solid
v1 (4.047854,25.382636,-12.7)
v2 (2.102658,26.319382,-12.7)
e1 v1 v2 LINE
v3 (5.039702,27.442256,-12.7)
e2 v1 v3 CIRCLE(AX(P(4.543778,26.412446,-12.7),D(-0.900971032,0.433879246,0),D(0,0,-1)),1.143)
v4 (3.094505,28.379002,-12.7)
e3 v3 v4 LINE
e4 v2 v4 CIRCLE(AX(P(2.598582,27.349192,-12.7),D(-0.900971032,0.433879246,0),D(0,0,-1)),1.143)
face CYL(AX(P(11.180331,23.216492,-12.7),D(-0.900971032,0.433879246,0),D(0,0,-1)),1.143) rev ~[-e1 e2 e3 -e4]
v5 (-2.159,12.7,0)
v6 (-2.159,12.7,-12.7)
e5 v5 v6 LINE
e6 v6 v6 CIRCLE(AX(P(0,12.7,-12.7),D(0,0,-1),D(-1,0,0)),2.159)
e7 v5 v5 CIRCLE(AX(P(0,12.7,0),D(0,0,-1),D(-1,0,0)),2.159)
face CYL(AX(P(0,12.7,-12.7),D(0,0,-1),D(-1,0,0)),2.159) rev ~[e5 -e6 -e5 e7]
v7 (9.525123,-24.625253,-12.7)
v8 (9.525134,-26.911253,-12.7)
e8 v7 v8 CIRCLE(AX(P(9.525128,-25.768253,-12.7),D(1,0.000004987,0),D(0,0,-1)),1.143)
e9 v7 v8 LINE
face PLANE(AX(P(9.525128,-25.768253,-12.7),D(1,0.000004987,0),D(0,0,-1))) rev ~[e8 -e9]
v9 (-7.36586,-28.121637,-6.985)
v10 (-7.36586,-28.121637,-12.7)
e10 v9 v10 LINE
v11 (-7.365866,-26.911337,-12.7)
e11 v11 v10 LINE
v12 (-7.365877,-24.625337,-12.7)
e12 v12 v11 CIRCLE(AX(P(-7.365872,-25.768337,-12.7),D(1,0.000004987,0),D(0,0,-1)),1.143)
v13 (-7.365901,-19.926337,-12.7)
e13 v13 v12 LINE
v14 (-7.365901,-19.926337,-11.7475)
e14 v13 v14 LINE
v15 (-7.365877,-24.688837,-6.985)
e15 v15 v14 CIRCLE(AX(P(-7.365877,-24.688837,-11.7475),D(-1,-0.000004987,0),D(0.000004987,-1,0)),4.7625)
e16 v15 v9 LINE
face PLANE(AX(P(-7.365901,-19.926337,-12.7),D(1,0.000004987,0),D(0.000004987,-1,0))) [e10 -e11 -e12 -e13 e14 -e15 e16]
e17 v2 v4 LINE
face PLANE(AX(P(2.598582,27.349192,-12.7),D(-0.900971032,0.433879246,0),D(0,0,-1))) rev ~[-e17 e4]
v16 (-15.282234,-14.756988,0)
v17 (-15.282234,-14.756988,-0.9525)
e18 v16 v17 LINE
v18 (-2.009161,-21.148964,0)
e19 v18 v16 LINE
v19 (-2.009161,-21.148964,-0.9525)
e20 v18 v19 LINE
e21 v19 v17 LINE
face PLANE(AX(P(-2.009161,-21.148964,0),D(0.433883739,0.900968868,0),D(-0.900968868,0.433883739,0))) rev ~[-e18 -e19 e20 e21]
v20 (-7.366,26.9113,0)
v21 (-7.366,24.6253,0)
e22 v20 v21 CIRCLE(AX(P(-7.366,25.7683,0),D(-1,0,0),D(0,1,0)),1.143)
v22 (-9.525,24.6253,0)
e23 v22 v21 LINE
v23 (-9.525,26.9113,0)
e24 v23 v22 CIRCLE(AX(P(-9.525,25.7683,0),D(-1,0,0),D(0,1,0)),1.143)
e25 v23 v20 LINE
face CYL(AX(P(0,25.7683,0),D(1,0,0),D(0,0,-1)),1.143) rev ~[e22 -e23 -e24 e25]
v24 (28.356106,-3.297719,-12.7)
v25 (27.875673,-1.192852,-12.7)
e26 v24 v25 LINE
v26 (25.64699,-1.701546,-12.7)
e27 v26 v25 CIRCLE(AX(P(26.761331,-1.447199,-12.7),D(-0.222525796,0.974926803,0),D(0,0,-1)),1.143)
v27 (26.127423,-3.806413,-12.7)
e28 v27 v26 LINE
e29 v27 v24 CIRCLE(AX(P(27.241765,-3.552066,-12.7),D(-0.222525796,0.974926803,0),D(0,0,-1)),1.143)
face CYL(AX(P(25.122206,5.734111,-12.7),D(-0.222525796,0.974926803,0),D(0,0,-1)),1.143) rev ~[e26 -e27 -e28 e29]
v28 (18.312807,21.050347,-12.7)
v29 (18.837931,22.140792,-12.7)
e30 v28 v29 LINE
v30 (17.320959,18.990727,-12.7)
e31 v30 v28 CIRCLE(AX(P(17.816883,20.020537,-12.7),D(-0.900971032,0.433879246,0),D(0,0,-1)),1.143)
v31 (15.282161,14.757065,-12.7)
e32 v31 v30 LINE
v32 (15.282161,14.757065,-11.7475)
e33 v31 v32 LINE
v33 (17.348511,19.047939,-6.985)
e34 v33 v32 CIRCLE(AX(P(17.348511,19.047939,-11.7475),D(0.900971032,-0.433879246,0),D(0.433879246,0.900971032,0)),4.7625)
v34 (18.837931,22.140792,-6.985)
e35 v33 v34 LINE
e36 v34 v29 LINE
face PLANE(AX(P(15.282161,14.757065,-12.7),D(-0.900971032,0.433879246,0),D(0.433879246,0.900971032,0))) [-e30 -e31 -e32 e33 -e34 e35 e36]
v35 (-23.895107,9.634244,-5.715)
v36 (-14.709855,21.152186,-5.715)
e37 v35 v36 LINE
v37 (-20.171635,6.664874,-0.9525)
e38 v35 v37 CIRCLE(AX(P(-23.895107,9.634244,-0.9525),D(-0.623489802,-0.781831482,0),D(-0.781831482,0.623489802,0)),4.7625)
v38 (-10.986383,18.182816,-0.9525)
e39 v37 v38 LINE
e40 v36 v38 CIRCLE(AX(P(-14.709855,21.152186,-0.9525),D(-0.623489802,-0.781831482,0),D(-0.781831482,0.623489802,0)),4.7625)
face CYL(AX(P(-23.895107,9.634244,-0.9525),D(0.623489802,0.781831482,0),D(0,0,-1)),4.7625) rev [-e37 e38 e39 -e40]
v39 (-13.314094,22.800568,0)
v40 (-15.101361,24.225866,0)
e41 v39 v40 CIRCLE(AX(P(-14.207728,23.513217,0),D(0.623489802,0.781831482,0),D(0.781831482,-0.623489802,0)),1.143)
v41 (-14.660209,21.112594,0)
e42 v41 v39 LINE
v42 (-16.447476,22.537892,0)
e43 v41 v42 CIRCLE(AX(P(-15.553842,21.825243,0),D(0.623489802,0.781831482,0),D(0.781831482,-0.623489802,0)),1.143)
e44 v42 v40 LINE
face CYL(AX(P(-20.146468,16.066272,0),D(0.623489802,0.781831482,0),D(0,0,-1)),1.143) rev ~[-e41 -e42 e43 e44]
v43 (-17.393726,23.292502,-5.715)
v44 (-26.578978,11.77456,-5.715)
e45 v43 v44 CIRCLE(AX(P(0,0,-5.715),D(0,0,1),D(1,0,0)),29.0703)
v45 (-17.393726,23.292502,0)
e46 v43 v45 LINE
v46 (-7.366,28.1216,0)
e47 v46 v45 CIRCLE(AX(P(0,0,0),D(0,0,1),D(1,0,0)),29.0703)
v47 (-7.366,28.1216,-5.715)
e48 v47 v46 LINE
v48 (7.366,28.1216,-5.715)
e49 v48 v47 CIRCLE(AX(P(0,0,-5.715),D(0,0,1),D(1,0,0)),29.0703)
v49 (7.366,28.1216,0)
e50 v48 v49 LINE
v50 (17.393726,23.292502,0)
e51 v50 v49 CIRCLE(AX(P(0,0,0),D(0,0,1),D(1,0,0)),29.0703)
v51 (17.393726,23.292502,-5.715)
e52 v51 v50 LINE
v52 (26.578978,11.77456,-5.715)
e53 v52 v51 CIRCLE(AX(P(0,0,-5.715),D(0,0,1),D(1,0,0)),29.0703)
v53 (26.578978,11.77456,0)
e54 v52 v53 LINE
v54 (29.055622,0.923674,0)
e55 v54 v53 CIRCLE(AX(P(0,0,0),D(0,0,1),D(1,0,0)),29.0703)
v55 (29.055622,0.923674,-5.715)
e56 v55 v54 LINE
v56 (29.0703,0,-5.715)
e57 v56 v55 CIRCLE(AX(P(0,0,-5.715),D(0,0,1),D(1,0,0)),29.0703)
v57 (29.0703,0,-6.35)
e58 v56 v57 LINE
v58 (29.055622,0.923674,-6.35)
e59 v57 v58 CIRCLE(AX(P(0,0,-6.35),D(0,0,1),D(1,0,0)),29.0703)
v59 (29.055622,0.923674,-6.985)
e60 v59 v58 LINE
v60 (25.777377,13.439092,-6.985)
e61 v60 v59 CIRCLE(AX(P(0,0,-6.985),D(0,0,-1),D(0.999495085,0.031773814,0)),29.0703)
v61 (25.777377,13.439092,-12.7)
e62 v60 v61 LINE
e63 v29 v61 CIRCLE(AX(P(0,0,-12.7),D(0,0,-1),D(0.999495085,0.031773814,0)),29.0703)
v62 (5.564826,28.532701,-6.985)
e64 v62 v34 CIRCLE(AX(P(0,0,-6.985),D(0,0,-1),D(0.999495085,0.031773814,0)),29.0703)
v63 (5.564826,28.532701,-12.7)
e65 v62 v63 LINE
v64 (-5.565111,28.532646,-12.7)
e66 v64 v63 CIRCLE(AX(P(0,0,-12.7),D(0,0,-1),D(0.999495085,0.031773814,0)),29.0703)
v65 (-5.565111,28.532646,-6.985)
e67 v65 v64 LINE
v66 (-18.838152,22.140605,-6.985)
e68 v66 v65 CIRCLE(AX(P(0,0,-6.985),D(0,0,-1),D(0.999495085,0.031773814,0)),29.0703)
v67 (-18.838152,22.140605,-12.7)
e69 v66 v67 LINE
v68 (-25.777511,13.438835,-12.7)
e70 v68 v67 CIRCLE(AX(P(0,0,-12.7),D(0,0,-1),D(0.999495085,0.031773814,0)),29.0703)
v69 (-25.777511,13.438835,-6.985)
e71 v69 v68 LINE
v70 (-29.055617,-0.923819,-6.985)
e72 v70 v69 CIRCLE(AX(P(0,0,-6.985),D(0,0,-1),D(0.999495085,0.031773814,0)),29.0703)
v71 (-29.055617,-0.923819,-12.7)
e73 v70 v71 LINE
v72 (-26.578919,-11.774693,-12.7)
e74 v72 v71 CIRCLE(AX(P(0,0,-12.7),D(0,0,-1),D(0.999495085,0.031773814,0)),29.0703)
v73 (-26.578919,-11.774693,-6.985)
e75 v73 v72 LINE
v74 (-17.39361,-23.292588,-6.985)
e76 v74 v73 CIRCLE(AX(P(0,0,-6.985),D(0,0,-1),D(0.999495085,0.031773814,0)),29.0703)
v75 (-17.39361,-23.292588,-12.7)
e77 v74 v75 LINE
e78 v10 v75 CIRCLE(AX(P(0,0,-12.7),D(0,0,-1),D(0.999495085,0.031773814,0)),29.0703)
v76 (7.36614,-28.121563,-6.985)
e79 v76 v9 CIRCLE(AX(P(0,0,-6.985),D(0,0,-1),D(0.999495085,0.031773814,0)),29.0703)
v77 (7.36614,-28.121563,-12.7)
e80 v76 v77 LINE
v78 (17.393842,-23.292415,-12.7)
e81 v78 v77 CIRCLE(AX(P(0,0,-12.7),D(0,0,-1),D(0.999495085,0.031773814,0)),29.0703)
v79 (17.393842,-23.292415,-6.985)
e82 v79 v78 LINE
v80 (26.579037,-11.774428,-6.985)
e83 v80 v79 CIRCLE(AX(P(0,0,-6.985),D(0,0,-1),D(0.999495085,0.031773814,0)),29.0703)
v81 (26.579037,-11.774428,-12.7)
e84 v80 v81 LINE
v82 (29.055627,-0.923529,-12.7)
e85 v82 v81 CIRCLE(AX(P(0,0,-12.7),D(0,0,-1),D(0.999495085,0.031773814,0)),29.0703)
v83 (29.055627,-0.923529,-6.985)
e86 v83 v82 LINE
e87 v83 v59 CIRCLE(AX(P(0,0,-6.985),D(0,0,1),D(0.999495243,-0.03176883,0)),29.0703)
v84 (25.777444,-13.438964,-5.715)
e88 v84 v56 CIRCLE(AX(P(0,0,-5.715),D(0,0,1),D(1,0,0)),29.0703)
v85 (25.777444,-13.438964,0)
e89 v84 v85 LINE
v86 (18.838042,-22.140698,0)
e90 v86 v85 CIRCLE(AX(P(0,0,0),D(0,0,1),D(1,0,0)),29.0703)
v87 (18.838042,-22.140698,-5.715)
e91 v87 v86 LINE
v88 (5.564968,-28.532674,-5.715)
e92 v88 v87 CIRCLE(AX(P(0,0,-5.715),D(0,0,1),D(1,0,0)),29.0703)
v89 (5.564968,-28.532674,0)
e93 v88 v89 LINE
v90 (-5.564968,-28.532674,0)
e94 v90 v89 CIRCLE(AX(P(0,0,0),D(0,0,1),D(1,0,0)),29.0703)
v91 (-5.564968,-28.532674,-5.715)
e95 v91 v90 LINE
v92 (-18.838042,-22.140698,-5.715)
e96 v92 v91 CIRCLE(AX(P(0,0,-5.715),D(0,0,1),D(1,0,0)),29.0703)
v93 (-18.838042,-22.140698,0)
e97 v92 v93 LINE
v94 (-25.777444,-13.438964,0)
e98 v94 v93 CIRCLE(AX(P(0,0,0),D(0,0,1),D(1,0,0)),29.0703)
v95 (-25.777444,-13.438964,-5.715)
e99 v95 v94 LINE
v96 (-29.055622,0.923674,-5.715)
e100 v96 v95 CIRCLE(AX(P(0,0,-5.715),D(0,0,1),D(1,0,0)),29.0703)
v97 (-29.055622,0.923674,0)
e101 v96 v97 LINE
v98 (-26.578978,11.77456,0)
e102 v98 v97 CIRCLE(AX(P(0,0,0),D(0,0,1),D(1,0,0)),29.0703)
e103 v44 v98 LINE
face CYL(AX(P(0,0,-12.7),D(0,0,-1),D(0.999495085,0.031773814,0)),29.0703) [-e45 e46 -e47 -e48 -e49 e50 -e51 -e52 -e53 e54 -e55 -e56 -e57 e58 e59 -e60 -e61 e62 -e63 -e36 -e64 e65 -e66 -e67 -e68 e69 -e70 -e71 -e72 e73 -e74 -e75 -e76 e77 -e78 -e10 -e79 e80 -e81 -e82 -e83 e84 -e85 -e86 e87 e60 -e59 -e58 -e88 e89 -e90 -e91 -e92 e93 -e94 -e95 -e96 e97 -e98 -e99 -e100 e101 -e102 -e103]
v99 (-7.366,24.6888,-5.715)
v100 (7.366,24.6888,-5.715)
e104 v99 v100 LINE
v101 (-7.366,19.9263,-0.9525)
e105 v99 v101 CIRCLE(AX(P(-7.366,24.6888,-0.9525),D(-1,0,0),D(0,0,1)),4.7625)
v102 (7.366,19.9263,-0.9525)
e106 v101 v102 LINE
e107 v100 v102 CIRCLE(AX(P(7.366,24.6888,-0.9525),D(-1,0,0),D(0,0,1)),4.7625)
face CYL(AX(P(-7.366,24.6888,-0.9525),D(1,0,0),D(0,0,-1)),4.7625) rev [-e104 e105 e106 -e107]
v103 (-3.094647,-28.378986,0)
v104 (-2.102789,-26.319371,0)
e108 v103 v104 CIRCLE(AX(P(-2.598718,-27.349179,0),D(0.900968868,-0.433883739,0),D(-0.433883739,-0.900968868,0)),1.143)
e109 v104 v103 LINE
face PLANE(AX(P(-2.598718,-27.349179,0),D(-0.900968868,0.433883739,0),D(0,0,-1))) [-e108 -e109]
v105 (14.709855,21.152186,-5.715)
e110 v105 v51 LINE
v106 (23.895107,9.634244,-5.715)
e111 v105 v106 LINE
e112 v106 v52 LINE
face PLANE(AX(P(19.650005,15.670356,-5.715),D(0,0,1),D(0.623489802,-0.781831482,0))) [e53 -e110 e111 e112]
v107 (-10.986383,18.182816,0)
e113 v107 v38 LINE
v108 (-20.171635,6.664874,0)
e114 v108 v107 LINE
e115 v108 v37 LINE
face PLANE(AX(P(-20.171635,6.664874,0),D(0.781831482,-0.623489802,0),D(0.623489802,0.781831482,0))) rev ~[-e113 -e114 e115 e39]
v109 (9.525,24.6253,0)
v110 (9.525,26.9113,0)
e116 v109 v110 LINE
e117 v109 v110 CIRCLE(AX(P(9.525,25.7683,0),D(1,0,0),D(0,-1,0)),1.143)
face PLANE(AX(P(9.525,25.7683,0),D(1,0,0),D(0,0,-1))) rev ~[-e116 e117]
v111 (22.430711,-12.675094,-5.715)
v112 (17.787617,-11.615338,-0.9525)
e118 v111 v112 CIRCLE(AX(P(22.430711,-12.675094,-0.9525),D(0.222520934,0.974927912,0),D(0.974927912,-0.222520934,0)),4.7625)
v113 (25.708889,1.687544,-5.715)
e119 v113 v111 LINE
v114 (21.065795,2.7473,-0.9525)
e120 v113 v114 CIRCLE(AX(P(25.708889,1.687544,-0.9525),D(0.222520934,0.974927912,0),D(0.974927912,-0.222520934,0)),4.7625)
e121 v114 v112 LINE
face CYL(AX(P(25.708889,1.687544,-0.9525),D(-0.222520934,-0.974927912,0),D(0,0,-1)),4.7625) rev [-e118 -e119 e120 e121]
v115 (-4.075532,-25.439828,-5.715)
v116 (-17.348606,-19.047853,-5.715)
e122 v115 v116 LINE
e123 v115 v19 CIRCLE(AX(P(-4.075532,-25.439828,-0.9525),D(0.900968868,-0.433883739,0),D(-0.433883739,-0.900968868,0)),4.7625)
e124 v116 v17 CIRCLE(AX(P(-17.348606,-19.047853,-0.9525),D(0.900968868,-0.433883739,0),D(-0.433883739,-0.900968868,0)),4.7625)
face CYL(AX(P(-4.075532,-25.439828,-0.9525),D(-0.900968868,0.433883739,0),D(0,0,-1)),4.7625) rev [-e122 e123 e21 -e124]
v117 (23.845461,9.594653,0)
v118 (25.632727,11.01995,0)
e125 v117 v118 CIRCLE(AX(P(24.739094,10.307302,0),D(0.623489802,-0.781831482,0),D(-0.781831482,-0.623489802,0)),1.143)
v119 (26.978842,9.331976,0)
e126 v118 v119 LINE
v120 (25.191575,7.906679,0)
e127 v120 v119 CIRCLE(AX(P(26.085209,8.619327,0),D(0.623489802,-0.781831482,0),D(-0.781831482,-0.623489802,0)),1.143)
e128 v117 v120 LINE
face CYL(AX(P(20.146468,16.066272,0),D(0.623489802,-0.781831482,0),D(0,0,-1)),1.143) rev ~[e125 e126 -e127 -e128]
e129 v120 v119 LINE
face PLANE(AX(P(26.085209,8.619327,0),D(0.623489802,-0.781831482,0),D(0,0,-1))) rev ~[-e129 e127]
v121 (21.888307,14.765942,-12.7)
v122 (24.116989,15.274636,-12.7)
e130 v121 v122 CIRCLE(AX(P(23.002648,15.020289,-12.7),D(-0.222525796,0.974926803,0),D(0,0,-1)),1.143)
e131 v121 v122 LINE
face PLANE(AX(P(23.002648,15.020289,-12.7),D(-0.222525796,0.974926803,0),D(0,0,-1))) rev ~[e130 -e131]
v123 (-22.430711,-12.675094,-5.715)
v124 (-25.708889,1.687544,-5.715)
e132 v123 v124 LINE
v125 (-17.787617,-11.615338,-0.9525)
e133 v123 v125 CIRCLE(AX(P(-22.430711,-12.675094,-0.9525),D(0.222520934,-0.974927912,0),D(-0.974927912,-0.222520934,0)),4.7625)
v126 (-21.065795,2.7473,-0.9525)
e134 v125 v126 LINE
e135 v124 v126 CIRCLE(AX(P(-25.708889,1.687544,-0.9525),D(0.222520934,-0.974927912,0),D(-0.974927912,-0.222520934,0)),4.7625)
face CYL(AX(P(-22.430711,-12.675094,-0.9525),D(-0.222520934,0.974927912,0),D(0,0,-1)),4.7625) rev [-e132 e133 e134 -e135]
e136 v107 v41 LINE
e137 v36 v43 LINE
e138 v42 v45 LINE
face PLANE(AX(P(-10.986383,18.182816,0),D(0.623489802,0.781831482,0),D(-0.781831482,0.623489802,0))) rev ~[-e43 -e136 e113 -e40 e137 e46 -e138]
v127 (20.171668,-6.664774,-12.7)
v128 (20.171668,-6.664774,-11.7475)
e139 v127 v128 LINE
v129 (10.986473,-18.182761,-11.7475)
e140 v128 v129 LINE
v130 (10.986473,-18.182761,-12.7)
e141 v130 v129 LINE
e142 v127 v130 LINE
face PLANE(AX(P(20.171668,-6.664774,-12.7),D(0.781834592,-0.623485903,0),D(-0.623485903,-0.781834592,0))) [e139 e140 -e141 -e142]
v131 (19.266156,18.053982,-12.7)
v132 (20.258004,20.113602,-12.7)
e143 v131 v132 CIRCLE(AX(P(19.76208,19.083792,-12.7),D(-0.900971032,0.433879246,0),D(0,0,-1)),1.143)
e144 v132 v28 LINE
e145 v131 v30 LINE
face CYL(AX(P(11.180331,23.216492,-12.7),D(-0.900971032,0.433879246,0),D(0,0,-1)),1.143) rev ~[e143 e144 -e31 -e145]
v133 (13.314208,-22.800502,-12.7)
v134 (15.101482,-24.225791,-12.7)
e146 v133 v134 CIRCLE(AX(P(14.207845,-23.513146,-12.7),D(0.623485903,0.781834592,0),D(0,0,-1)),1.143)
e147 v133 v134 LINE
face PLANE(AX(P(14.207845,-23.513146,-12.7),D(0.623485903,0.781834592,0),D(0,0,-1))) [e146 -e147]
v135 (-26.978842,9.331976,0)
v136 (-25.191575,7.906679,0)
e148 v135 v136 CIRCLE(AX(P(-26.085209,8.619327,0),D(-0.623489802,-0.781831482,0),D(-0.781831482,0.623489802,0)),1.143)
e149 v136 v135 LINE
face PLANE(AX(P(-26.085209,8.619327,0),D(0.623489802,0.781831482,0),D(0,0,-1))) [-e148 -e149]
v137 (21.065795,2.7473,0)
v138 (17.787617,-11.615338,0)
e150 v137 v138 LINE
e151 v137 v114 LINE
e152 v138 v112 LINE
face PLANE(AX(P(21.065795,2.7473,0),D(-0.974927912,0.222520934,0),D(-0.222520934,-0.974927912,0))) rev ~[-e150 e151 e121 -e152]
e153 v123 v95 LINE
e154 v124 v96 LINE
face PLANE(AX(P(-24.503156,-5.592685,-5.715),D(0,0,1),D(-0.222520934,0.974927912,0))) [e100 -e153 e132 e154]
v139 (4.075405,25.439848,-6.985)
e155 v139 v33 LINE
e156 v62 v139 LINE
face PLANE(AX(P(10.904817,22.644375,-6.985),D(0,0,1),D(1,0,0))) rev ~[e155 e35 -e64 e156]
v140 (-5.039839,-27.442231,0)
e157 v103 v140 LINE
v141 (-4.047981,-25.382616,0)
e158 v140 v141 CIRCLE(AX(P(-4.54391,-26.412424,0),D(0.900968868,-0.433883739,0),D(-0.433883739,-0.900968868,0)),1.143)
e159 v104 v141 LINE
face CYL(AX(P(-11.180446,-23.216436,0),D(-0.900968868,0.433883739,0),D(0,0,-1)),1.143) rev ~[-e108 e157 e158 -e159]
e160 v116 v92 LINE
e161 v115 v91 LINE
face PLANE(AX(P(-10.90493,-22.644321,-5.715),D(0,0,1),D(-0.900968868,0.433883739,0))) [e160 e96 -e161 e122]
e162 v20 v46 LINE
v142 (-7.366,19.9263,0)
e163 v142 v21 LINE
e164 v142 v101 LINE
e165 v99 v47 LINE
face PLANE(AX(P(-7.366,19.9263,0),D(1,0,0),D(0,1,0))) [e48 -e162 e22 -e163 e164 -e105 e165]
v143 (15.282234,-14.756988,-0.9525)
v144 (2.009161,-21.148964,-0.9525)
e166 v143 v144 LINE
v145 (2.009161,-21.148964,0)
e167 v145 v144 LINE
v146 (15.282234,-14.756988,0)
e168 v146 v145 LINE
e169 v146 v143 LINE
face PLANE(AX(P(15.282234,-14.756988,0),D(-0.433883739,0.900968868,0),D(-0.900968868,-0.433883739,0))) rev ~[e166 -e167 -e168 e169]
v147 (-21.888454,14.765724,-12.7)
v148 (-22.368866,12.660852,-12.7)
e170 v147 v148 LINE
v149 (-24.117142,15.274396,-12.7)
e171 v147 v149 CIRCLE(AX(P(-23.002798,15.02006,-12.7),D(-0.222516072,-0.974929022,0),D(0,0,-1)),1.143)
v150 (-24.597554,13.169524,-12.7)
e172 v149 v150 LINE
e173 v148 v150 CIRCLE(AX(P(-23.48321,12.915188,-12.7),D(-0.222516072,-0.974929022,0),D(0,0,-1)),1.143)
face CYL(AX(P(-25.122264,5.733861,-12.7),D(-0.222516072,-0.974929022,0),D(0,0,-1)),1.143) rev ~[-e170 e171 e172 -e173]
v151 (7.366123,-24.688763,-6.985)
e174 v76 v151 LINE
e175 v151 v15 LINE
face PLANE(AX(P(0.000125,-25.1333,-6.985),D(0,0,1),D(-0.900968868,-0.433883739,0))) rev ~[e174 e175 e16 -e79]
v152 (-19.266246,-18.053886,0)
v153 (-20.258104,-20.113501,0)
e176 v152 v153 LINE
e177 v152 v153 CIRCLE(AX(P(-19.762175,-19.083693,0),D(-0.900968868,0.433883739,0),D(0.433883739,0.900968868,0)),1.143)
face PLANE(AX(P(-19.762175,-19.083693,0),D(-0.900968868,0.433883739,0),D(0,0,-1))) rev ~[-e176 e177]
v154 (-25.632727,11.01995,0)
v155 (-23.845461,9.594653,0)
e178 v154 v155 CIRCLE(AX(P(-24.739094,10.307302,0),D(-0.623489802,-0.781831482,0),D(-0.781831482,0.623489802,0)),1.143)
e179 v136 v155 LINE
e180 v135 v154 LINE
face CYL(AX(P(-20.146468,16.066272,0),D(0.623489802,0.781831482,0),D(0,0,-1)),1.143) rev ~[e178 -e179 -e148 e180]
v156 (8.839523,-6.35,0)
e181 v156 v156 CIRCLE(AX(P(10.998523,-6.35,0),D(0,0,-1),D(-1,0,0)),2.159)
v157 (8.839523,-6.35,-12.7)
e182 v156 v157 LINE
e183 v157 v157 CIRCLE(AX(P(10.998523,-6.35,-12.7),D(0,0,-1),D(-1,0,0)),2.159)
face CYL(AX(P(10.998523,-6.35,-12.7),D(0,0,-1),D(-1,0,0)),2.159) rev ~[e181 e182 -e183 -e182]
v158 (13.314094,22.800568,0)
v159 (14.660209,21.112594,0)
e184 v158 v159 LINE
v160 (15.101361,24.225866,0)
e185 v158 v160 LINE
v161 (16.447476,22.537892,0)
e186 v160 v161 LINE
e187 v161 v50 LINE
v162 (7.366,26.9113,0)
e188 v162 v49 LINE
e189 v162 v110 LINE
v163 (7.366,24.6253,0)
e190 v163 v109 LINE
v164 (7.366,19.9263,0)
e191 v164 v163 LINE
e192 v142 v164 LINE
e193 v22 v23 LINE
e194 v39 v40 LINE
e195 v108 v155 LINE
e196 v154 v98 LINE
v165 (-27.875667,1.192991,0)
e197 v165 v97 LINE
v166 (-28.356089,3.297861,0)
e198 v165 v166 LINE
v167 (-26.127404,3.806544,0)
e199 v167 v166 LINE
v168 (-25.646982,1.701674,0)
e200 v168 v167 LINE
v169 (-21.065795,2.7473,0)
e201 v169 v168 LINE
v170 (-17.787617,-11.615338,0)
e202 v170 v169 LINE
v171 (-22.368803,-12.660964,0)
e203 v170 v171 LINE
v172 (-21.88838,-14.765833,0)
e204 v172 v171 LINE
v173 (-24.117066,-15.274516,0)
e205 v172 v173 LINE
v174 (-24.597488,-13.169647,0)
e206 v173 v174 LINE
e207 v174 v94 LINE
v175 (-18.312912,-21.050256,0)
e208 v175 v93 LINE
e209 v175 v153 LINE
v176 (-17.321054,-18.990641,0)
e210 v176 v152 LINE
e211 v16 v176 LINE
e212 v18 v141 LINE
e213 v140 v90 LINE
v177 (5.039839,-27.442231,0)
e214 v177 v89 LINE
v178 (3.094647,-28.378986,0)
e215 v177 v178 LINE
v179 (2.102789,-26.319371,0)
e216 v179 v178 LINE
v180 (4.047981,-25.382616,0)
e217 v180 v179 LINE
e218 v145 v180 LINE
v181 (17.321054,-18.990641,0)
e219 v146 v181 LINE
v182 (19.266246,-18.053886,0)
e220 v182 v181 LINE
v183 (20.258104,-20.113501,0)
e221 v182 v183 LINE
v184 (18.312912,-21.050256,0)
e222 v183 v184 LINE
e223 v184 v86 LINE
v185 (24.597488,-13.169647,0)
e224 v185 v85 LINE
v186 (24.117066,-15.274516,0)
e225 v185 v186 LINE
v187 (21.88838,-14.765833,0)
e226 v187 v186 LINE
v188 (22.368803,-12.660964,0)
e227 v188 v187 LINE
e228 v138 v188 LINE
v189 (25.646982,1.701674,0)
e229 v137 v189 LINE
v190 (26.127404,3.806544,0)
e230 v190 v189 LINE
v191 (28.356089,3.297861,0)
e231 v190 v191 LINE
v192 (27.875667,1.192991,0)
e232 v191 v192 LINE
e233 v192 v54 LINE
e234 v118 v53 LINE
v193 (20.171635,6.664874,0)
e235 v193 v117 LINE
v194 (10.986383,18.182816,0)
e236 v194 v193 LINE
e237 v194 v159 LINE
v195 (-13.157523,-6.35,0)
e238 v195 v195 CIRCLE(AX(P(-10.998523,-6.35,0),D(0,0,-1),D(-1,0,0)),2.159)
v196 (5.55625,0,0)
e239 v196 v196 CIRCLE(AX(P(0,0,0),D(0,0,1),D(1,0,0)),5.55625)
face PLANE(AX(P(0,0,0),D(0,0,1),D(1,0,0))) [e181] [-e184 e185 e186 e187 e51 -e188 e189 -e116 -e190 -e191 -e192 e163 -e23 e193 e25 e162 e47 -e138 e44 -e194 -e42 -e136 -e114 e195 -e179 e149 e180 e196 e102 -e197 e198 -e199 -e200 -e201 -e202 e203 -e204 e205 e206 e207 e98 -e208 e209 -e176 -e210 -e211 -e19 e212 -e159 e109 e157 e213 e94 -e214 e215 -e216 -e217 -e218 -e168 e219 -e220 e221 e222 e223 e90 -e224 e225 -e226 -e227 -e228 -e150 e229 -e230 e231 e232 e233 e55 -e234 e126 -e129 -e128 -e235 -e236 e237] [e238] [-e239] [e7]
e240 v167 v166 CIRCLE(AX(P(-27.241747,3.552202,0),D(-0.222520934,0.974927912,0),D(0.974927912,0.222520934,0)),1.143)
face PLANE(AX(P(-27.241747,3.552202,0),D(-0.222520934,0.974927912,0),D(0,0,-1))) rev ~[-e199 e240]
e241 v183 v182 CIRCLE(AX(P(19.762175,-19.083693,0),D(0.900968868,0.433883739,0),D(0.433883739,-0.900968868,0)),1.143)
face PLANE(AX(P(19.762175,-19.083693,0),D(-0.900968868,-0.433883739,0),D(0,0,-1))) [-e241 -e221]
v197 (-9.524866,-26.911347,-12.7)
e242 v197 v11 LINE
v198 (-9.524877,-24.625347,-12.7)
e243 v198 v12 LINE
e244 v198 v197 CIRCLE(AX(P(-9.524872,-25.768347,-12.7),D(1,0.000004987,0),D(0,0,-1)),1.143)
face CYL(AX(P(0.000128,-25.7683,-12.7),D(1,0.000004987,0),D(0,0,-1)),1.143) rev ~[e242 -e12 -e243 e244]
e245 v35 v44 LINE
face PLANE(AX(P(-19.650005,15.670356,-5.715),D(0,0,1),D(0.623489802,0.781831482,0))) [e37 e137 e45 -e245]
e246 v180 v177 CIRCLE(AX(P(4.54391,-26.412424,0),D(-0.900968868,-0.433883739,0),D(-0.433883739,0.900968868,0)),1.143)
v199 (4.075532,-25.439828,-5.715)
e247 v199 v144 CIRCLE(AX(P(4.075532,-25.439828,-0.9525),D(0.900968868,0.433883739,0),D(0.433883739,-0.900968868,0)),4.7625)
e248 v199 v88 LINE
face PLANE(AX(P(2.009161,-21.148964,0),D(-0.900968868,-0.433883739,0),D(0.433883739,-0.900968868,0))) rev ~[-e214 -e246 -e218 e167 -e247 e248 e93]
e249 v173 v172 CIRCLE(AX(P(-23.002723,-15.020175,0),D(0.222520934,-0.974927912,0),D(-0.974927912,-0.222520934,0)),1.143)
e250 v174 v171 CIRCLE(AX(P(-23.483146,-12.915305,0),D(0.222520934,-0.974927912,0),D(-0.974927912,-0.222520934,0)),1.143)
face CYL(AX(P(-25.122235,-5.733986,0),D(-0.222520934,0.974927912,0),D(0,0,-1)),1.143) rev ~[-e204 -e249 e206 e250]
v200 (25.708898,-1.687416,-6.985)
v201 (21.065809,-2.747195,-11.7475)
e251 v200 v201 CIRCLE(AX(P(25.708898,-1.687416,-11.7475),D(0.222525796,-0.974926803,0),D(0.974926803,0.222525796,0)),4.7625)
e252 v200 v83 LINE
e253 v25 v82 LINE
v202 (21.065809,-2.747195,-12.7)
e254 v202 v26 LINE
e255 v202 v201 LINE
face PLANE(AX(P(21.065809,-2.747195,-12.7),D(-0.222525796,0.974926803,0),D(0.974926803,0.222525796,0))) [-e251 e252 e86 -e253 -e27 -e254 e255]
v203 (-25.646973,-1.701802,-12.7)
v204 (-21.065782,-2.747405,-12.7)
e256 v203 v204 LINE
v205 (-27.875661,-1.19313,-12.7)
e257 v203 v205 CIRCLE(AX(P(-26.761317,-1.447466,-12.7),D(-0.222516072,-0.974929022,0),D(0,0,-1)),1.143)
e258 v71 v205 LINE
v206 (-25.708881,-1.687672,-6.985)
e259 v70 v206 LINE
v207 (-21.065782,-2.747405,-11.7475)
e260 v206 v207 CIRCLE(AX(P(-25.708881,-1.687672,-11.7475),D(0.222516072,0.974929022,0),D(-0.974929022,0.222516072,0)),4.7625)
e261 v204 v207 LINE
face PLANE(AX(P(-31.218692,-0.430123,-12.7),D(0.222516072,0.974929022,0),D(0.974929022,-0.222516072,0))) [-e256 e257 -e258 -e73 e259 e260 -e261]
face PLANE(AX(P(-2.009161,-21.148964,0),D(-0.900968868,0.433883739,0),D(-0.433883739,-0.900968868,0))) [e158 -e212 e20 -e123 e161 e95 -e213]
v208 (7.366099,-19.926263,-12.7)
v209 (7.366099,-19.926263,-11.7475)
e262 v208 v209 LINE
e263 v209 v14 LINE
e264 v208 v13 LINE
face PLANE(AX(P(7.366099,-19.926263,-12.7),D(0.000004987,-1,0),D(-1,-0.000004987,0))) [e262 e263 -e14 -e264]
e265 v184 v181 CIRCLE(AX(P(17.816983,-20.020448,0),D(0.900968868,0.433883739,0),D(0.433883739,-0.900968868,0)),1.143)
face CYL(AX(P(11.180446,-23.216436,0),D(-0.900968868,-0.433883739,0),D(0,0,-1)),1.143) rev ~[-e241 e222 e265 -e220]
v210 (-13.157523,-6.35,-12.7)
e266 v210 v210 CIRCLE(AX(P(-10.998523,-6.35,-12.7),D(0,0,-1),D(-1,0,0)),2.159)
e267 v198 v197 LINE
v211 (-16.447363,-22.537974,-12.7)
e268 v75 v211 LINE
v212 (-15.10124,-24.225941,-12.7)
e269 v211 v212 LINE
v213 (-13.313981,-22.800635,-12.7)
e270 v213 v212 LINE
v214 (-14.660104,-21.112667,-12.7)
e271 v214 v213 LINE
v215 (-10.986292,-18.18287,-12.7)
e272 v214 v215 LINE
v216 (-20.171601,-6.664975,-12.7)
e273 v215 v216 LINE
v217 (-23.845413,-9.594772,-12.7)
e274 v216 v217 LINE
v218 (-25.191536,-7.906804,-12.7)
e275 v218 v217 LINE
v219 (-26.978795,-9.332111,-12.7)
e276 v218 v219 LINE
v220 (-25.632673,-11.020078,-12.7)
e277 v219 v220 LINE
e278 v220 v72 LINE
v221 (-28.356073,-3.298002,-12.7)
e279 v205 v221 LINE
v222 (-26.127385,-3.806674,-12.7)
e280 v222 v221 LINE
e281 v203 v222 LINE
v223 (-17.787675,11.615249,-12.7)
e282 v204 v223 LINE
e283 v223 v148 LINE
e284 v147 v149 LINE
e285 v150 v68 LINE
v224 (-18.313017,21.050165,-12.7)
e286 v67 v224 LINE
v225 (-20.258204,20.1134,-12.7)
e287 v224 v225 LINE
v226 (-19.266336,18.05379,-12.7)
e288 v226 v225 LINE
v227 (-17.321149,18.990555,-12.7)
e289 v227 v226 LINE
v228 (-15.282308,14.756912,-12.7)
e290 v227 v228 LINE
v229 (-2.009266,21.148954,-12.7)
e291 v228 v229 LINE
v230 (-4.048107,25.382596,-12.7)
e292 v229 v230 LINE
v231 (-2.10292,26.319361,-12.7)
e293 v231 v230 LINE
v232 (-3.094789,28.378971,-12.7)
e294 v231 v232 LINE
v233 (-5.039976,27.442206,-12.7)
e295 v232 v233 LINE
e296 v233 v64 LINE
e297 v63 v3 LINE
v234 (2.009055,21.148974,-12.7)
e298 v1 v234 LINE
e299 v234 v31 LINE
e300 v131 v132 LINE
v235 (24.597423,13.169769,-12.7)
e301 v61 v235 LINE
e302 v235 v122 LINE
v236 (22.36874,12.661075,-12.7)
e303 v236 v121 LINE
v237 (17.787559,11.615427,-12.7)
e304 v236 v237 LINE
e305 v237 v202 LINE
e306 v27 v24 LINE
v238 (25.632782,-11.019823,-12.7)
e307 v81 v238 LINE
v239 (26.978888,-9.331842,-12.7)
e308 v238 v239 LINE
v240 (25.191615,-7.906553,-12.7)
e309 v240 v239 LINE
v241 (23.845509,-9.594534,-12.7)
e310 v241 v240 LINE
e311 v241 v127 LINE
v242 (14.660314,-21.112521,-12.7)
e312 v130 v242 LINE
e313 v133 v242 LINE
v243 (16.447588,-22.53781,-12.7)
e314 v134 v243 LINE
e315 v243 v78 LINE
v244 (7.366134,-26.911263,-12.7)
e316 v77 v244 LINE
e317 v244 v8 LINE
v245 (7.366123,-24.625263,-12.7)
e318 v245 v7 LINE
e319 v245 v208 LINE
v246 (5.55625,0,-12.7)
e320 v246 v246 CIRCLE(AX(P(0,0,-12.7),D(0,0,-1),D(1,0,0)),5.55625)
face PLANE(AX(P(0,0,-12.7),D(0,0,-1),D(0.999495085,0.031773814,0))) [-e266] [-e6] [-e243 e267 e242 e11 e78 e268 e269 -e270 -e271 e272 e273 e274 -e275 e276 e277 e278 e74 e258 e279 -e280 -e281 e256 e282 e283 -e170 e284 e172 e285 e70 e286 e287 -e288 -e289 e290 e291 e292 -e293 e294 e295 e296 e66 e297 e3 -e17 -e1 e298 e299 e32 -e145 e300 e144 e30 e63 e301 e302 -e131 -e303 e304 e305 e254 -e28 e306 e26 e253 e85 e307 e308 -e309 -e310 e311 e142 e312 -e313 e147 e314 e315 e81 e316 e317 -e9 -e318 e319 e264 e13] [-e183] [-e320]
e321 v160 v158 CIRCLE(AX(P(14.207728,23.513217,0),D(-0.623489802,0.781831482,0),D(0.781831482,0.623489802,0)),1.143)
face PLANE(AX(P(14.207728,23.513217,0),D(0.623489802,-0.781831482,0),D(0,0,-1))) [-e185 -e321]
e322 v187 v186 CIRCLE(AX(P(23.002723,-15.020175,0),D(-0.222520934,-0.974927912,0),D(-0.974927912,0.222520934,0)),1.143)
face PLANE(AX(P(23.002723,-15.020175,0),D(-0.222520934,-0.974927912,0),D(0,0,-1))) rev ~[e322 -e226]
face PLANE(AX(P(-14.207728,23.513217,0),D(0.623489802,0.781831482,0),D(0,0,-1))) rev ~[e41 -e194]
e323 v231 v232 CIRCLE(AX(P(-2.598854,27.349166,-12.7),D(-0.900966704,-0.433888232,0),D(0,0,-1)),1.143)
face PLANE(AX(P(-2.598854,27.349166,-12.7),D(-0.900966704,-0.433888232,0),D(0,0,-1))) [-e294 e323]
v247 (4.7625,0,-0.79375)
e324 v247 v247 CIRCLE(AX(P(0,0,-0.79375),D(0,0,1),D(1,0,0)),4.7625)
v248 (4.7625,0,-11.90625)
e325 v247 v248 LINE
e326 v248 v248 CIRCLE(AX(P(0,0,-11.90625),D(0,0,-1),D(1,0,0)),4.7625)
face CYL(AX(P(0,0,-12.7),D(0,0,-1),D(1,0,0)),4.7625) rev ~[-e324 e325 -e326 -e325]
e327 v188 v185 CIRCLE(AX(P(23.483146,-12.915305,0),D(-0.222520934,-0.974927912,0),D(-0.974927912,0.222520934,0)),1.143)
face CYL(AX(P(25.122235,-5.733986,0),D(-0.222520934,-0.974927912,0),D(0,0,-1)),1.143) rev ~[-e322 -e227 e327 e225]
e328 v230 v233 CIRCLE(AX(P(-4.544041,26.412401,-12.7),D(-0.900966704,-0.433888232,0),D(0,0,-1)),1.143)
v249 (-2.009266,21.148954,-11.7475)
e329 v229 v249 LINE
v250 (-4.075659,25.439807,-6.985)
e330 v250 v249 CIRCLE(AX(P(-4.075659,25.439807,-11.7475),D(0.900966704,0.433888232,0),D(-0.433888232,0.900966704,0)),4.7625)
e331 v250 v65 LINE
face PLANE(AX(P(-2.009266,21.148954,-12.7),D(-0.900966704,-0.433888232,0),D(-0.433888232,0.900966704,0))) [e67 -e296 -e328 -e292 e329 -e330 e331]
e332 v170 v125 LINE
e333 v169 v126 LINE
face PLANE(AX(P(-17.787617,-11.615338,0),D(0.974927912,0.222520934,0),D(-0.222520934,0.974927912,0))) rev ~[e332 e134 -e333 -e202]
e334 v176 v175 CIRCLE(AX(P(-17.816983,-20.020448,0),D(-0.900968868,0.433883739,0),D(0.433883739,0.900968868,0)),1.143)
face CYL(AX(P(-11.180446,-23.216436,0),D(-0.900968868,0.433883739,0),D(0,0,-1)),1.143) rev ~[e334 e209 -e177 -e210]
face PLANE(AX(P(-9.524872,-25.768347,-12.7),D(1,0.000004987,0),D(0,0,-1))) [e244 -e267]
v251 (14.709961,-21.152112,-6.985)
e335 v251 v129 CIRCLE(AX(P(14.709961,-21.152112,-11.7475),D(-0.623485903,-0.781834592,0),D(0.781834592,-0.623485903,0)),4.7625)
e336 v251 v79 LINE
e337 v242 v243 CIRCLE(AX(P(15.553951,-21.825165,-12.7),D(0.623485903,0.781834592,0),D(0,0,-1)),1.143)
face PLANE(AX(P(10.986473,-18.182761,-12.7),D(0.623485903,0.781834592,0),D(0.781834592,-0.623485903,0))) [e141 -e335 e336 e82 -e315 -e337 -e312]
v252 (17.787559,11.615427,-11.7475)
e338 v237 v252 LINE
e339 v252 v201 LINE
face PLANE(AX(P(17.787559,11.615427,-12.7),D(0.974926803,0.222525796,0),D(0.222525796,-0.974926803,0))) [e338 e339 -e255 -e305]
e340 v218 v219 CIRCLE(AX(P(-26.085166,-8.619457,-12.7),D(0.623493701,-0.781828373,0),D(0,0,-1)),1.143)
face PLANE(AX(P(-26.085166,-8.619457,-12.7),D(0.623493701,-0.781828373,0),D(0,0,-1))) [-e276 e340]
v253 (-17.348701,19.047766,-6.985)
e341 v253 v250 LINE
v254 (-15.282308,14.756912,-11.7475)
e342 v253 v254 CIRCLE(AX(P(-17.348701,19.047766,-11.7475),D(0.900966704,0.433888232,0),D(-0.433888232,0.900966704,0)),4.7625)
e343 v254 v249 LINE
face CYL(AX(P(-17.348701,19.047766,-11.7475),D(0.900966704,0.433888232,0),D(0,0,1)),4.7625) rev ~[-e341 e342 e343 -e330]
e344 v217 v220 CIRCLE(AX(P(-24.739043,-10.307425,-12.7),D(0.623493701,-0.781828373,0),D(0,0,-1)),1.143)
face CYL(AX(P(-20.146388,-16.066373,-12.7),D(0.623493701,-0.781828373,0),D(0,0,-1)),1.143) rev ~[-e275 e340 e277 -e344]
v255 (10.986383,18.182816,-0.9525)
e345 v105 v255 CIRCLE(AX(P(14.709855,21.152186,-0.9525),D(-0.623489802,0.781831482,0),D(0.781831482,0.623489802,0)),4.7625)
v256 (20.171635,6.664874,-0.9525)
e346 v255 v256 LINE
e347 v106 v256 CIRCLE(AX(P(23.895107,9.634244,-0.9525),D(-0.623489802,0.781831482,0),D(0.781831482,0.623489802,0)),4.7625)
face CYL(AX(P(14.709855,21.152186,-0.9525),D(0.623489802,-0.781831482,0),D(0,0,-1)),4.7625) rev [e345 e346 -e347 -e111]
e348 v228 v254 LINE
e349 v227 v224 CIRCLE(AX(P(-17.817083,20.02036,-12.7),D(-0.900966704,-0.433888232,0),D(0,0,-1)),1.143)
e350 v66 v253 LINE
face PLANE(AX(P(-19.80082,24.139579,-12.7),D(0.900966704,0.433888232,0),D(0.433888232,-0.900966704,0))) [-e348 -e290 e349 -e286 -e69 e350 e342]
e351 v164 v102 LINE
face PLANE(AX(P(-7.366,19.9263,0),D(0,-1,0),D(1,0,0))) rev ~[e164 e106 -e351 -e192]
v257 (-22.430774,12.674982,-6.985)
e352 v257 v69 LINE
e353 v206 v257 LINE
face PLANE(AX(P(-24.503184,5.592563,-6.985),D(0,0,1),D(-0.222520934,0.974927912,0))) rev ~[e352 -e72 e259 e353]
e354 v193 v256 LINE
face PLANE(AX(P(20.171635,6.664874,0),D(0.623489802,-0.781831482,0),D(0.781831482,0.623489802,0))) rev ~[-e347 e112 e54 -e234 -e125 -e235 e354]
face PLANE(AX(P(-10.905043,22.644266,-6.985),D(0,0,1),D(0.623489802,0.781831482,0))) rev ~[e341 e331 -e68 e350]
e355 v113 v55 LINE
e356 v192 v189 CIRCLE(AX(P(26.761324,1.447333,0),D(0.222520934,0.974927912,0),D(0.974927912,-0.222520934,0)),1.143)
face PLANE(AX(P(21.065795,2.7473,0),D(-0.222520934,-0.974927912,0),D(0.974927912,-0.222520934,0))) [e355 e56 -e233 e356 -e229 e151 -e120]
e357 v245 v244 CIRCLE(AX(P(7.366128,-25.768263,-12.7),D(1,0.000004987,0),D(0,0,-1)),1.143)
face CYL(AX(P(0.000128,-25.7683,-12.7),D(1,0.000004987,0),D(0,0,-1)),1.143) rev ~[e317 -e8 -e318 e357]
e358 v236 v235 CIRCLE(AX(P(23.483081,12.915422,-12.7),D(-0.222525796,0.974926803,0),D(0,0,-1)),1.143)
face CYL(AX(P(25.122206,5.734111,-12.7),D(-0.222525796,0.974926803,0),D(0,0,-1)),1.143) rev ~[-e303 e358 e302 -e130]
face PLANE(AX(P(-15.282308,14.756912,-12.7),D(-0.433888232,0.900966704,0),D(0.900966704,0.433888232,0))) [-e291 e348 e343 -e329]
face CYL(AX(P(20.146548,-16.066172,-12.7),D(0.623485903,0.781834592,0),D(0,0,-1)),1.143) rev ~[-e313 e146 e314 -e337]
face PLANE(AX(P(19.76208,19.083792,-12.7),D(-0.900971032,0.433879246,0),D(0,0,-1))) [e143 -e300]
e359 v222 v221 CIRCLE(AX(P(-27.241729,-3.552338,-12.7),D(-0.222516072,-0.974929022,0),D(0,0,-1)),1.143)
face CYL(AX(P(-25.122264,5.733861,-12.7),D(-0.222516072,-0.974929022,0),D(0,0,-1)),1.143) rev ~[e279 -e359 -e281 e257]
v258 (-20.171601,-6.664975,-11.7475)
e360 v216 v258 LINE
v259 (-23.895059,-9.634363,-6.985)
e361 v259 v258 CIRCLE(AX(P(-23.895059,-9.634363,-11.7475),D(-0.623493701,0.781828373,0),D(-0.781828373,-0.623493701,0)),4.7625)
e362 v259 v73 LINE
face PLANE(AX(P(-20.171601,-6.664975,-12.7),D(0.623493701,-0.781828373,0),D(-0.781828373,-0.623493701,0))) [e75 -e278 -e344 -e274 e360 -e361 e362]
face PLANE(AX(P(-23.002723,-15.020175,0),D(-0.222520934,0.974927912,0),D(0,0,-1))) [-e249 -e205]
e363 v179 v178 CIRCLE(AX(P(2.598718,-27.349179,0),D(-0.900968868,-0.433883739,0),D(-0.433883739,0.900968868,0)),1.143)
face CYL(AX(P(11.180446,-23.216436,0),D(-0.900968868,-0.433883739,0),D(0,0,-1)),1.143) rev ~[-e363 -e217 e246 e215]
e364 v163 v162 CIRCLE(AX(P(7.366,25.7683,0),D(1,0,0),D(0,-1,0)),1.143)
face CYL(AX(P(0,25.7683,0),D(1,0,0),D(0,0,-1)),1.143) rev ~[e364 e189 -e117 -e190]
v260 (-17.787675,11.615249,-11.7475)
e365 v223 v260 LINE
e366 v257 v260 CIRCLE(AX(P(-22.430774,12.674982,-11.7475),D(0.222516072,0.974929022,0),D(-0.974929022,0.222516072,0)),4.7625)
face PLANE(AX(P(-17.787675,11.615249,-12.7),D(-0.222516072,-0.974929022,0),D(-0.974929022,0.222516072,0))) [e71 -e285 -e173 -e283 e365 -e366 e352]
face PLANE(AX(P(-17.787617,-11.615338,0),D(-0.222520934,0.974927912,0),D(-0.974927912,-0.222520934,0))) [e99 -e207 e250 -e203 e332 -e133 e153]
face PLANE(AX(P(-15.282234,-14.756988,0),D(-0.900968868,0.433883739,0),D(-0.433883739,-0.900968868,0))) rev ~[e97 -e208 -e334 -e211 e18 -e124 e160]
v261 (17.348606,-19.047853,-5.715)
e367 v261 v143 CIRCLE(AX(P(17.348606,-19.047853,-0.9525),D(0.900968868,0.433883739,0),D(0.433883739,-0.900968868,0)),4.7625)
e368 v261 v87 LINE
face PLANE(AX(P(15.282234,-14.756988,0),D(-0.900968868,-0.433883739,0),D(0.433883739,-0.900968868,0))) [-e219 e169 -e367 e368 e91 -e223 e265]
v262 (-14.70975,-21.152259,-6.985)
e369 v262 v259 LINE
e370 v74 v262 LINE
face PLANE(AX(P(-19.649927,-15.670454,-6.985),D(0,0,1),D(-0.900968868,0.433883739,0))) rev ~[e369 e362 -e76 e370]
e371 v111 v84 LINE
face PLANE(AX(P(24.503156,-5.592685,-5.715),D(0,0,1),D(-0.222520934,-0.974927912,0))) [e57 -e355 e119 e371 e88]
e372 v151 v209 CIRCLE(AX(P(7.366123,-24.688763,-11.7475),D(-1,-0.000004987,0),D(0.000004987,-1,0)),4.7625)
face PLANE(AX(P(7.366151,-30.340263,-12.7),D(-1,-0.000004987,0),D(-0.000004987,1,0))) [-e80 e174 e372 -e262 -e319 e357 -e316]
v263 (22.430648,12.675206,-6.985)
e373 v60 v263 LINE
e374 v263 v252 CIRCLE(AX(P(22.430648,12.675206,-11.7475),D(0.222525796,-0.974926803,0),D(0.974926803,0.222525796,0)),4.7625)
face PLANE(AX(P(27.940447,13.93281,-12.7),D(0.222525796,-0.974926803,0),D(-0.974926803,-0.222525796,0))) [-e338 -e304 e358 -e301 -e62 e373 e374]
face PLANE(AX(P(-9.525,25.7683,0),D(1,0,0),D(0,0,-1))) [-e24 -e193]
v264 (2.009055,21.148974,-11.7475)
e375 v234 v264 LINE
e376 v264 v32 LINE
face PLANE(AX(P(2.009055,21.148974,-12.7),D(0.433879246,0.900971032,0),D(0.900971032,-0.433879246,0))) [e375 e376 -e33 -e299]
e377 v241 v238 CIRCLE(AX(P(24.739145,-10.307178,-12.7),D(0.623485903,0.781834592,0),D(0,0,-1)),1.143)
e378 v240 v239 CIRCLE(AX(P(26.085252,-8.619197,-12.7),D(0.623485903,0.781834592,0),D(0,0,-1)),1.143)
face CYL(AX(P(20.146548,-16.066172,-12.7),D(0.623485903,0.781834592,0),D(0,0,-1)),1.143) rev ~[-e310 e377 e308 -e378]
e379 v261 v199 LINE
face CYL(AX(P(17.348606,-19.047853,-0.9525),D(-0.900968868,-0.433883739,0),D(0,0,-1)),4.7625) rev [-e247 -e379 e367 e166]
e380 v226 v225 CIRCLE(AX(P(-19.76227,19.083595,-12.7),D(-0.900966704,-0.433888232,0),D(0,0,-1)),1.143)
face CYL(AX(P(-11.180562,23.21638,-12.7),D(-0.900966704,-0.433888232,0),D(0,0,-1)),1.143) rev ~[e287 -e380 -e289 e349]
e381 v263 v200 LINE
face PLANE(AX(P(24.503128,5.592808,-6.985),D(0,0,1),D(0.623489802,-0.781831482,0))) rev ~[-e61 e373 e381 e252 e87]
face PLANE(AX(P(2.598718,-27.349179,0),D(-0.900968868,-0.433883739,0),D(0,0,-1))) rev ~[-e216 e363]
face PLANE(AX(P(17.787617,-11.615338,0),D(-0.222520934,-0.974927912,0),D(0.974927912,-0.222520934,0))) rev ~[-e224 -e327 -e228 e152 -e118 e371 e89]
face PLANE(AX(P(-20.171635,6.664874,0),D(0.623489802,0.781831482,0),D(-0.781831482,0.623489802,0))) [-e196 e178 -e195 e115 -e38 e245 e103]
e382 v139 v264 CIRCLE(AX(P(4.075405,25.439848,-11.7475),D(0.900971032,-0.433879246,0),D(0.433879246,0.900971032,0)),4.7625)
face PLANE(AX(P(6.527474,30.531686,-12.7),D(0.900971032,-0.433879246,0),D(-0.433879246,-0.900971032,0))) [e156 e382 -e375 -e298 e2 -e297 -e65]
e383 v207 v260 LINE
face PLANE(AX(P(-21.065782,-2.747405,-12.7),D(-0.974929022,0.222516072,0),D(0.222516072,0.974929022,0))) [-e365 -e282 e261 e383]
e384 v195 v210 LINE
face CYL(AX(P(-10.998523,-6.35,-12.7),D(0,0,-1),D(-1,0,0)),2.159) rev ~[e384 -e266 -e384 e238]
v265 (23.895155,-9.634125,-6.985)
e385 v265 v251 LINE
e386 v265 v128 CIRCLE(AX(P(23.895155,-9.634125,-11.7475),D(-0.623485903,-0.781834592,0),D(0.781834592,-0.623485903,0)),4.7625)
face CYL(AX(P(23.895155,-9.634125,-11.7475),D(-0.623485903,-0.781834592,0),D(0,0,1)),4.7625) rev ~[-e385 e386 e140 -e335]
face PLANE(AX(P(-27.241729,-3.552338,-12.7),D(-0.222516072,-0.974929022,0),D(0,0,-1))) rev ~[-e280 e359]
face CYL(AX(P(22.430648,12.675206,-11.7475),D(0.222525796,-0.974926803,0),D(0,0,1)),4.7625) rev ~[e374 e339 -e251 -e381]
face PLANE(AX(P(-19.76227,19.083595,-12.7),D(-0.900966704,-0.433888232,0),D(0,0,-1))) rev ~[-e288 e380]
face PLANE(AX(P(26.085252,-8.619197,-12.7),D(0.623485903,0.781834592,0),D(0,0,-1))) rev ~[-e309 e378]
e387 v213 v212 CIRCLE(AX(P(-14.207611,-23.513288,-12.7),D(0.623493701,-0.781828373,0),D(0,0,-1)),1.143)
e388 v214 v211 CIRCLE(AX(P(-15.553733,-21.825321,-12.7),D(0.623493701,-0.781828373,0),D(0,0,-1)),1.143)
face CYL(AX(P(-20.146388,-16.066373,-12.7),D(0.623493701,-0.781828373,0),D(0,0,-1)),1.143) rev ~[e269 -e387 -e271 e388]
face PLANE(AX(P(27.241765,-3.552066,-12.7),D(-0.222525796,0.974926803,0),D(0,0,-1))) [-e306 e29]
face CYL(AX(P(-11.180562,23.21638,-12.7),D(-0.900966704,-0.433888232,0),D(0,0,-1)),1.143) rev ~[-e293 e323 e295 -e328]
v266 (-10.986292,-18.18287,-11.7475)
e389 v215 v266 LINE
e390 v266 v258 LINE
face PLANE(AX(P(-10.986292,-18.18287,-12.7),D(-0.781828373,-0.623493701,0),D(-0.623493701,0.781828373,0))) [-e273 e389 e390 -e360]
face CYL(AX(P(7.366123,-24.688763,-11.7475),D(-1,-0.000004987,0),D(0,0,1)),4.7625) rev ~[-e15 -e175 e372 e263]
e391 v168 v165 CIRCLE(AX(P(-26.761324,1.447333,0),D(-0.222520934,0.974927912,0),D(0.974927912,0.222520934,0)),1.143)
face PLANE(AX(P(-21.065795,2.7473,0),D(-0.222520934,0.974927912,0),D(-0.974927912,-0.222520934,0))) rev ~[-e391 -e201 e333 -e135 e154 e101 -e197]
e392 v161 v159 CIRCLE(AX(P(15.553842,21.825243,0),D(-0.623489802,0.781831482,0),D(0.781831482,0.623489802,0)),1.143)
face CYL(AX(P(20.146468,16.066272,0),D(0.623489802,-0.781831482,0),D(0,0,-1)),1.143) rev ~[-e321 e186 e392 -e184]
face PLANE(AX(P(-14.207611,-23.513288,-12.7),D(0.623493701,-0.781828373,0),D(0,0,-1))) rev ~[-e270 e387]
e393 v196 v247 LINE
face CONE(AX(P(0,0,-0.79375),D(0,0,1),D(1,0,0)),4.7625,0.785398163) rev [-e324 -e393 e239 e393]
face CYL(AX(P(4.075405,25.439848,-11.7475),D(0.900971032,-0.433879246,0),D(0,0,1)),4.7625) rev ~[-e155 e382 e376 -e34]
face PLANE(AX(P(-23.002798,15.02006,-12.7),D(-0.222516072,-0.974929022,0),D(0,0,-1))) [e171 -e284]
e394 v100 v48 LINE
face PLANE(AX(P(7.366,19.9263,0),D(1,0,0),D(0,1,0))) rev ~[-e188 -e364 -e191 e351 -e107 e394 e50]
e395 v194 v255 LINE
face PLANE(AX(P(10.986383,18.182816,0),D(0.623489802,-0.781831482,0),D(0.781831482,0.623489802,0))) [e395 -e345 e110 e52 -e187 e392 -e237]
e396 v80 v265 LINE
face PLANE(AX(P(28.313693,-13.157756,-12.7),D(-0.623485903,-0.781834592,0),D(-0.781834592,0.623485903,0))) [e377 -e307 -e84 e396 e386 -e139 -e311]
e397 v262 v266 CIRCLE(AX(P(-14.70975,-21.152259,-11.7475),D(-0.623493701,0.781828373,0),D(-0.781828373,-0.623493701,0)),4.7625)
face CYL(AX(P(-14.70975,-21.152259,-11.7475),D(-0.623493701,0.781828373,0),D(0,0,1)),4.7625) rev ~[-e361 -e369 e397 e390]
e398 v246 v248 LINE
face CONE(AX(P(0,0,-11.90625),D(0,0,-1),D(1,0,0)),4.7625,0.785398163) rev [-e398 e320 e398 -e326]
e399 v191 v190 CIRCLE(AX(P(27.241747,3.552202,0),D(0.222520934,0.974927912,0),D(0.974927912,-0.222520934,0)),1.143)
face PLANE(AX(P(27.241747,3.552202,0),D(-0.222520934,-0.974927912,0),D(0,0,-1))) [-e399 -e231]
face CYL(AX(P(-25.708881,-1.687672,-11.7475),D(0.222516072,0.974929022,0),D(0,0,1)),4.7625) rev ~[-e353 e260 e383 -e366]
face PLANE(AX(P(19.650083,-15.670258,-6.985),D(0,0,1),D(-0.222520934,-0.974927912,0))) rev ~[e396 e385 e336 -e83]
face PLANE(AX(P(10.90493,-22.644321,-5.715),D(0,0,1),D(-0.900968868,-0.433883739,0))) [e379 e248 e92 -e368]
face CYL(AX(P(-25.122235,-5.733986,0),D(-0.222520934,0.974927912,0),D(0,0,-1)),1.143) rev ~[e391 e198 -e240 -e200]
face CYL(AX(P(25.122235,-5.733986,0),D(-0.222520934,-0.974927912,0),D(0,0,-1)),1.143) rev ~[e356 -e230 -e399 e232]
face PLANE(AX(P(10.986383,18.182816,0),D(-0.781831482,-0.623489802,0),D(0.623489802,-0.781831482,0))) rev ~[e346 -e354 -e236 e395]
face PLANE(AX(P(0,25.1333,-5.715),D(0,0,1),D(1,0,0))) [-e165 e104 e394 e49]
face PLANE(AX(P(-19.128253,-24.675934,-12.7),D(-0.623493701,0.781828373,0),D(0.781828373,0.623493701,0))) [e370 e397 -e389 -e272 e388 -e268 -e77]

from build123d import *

# Parameters (mm, degrees)
SKETCH1_R           = 29.0703
BOSS_EXTRUDE2_DEPTH = 6.35
SKETCH2_W           = 14.732
SKETCH2_H           = 10.414
CUT_EXTRUDE2_DEPTH  = 5.715
CIRPATTERN1_COUNT   = 7
SKETCH4_R           = 1.143
CUT_EXTRUDE4_DEPTH  = 9.525
CIRPATTERN2_COUNT   = 7
SKETCH5_R           = 4.7625
CUT_EXTRUDE5_DEPTH  = 42.599124801
SKETCH6_R           = 2.159
CUT_EXTRUDE7_DEPTH  = 42.599124801
BOSS_EXTRUDE3_START = 6.35
SKETCH9_R           = 29.0703
SKETCH9_R_2         = 2.159
SKETCH9_R_3         = 4.7625
BOSS_EXTRUDE3_DEPTH = 6.35
CUT_EXTRUDE8_DEPTH  = 5.715
CIRPATTERN3_COUNT   = 7
SKETCH11_R          = 1.143
CUT_EXTRUDE9_DEPTH  = 9.525
CIRPATTERN4_COUNT   = 7
FILLET1_R           = 4.7625
CHAMFER1_SIZE       = 0.79375


with BuildPart() as part:
    # Sketch1 → Boss-Extrude2 (new body)
    with BuildSketch(Plane.XY):
        Circle(SKETCH1_R)
    extrude(amount=-BOSS_EXTRUDE2_DEPTH)

    # Sketch2 → Cut-Extrude2 (cut)
    with BuildSketch(Plane.XY):
        with Locations((0, 25.1333)):
            Rectangle(SKETCH2_W, SKETCH2_H)
    cut_extrude2 = extrude(amount=-CUT_EXTRUDE2_DEPTH, mode=Mode.SUBTRACT)

    # CirPattern1: Cut-Extrude2 ×7 about axis
    cirpattern1_axis = Axis((0, 0, 0), (0, 0, 1))
    for i in range(1, CIRPATTERN1_COUNT):
        add(cut_extrude2.rotate(cirpattern1_axis, i * 360 / CIRPATTERN1_COUNT), mode=Mode.SUBTRACT)

    # Sketch4 → Cut-Extrude4 (cut, symmetric)
    with BuildSketch(Plane(origin=(0, 0, 0), x_dir=(0, 0, -1), z_dir=(1, 0, 0))):
        with Locations((0, 25.7683)):
            Circle(SKETCH4_R)
    cut_extrude4 = extrude(amount=CUT_EXTRUDE4_DEPTH, both=True, mode=Mode.SUBTRACT)

    # CirPattern2: Cut-Extrude4 ×7 about axis
    cirpattern2_axis = Axis((0, 0, 0), (0, 0, 1))
    for i in range(1, CIRPATTERN2_COUNT):
        add(cut_extrude4.rotate(cirpattern2_axis, i * 360 / CIRPATTERN2_COUNT), mode=Mode.SUBTRACT)

    # Sketch5 → Cut-Extrude5 (cut, through all)
    with BuildSketch(Plane.XY):
        Circle(SKETCH5_R)
    extrude(amount=-CUT_EXTRUDE5_DEPTH, mode=Mode.SUBTRACT)

    # Sketch6 → Cut-Extrude7 (cut, through all)
    with BuildSketch(Plane(origin=(0, 0, -6.35), x_dir=(-1, 0, 0), z_dir=(0, 0, -1))):
        with Locations((0, 12.7)):
            Circle(SKETCH6_R)
        with Locations((10.998522628, -6.35)):
            Circle(SKETCH6_R)
        with Locations((-10.998522628, -6.35)):
            Circle(SKETCH6_R)
    extrude(amount=-CUT_EXTRUDE7_DEPTH, mode=Mode.SUBTRACT)

    # Sketch9 → Boss-Extrude3 (add)
    with BuildSketch(Plane(origin=(0, 0, -6.35), x_dir=(-1, 0, 0), z_dir=(0, 0, -1)).offset(BOSS_EXTRUDE3_START)):
        with Locations(Location((0, 0, 0), (0, 0, 178.179188094))):
            Circle(SKETCH9_R)
        with Locations((0, 12.7)):
            Circle(SKETCH9_R_2, mode=Mode.SUBTRACT)
        with Locations((10.998522628, -6.35)):
            Circle(SKETCH9_R_2, mode=Mode.SUBTRACT)
        with Locations((-10.998522628, -6.35)):
            Circle(SKETCH9_R_2, mode=Mode.SUBTRACT)
        with Locations(Location((0, 0, 0), (0, 0, 180))):
            Circle(SKETCH9_R_3, mode=Mode.SUBTRACT)
    extrude(amount=-BOSS_EXTRUDE3_DEPTH)

    # Sketch10 → Cut-Extrude8 (cut)
    with BuildSketch(Plane(origin=(0, 0, -12.7), x_dir=(-1, 0, 0), z_dir=(0, 0, -1))):
        Polygon((-2.009055407, 21.148973594), (-15.282160644, 14.757064537), (-19.800579114, 24.139776859), (-6.527473878, 30.531685916), align=None)
    cut_extrude8 = extrude(amount=-CUT_EXTRUDE8_DEPTH, mode=Mode.SUBTRACT)

    # CirPattern3: Cut-Extrude8 ×7 about axis
    cirpattern3_axis = Axis((0, 0, 0), (0, 0, 1))
    for i in range(1, CIRPATTERN3_COUNT):
        add(cut_extrude8.rotate(cirpattern3_axis, i * 360 / CIRPATTERN3_COUNT), mode=Mode.SUBTRACT)

    # Sketch11 → Cut-Extrude9 (cut, symmetric)
    with BuildSketch(Plane(origin=(0, 0, 0), x_dir=(0, 0, -1), z_dir=(-0.900971031519736, 0.4338792462912495, 0))):
        with Locations((12.7, -25.7683)):
            Circle(SKETCH11_R)
    cut_extrude9 = extrude(amount=CUT_EXTRUDE9_DEPTH, both=True, mode=Mode.SUBTRACT)

    # CirPattern4: Cut-Extrude9 ×7 about axis
    cirpattern4_axis = Axis((0, 0, 0), (0, 0, 1))
    for i in range(1, CIRPATTERN4_COUNT):
        add(cut_extrude9.rotate(cirpattern4_axis, i * 360 / CIRPATTERN4_COUNT), mode=Mode.SUBTRACT)

    # Fillet1
    fillet1_edges = [part.edges().sort_by_distance(p)[0] for p in [
        (-15.579008669, 12.423844839, -5.715),
        (0, 19.9263, -5.715),
        (8.645608025, 17.953019065, -6.985),
        (-8.645787076, 17.952932839, -6.985),
        (-19.426728167, 4.433922012, -6.985),
        (-15.578946715, -12.423922526, -6.985),
        (9.9366e-05, -19.9263, -6.985),
        (15.579070622, -12.423767151, -6.985),
        (19.426683945, 4.434115761, -6.985),
        (8.645697551, -17.952975952, -5.715),
        (19.426706057, -4.434018886, -5.715),
        (-19.426706057, -4.434018886, -5.715),
        (-8.645697551, -17.952975952, -5.715),
        (15.579008669, 12.423844839, -5.715),
    ]]
    fillet(fillet1_edges, radius=FILLET1_R)

    # Chamfer1
    chamfer1_edges = [part.edges().sort_by_distance(p)[0] for p in [
        (-4.7625, 0, 0),
        (-4.7625, 0, -12.7),
    ]]
    chamfer(chamfer1_edges, length=CHAMFER1_SIZE)


solid = part.part
